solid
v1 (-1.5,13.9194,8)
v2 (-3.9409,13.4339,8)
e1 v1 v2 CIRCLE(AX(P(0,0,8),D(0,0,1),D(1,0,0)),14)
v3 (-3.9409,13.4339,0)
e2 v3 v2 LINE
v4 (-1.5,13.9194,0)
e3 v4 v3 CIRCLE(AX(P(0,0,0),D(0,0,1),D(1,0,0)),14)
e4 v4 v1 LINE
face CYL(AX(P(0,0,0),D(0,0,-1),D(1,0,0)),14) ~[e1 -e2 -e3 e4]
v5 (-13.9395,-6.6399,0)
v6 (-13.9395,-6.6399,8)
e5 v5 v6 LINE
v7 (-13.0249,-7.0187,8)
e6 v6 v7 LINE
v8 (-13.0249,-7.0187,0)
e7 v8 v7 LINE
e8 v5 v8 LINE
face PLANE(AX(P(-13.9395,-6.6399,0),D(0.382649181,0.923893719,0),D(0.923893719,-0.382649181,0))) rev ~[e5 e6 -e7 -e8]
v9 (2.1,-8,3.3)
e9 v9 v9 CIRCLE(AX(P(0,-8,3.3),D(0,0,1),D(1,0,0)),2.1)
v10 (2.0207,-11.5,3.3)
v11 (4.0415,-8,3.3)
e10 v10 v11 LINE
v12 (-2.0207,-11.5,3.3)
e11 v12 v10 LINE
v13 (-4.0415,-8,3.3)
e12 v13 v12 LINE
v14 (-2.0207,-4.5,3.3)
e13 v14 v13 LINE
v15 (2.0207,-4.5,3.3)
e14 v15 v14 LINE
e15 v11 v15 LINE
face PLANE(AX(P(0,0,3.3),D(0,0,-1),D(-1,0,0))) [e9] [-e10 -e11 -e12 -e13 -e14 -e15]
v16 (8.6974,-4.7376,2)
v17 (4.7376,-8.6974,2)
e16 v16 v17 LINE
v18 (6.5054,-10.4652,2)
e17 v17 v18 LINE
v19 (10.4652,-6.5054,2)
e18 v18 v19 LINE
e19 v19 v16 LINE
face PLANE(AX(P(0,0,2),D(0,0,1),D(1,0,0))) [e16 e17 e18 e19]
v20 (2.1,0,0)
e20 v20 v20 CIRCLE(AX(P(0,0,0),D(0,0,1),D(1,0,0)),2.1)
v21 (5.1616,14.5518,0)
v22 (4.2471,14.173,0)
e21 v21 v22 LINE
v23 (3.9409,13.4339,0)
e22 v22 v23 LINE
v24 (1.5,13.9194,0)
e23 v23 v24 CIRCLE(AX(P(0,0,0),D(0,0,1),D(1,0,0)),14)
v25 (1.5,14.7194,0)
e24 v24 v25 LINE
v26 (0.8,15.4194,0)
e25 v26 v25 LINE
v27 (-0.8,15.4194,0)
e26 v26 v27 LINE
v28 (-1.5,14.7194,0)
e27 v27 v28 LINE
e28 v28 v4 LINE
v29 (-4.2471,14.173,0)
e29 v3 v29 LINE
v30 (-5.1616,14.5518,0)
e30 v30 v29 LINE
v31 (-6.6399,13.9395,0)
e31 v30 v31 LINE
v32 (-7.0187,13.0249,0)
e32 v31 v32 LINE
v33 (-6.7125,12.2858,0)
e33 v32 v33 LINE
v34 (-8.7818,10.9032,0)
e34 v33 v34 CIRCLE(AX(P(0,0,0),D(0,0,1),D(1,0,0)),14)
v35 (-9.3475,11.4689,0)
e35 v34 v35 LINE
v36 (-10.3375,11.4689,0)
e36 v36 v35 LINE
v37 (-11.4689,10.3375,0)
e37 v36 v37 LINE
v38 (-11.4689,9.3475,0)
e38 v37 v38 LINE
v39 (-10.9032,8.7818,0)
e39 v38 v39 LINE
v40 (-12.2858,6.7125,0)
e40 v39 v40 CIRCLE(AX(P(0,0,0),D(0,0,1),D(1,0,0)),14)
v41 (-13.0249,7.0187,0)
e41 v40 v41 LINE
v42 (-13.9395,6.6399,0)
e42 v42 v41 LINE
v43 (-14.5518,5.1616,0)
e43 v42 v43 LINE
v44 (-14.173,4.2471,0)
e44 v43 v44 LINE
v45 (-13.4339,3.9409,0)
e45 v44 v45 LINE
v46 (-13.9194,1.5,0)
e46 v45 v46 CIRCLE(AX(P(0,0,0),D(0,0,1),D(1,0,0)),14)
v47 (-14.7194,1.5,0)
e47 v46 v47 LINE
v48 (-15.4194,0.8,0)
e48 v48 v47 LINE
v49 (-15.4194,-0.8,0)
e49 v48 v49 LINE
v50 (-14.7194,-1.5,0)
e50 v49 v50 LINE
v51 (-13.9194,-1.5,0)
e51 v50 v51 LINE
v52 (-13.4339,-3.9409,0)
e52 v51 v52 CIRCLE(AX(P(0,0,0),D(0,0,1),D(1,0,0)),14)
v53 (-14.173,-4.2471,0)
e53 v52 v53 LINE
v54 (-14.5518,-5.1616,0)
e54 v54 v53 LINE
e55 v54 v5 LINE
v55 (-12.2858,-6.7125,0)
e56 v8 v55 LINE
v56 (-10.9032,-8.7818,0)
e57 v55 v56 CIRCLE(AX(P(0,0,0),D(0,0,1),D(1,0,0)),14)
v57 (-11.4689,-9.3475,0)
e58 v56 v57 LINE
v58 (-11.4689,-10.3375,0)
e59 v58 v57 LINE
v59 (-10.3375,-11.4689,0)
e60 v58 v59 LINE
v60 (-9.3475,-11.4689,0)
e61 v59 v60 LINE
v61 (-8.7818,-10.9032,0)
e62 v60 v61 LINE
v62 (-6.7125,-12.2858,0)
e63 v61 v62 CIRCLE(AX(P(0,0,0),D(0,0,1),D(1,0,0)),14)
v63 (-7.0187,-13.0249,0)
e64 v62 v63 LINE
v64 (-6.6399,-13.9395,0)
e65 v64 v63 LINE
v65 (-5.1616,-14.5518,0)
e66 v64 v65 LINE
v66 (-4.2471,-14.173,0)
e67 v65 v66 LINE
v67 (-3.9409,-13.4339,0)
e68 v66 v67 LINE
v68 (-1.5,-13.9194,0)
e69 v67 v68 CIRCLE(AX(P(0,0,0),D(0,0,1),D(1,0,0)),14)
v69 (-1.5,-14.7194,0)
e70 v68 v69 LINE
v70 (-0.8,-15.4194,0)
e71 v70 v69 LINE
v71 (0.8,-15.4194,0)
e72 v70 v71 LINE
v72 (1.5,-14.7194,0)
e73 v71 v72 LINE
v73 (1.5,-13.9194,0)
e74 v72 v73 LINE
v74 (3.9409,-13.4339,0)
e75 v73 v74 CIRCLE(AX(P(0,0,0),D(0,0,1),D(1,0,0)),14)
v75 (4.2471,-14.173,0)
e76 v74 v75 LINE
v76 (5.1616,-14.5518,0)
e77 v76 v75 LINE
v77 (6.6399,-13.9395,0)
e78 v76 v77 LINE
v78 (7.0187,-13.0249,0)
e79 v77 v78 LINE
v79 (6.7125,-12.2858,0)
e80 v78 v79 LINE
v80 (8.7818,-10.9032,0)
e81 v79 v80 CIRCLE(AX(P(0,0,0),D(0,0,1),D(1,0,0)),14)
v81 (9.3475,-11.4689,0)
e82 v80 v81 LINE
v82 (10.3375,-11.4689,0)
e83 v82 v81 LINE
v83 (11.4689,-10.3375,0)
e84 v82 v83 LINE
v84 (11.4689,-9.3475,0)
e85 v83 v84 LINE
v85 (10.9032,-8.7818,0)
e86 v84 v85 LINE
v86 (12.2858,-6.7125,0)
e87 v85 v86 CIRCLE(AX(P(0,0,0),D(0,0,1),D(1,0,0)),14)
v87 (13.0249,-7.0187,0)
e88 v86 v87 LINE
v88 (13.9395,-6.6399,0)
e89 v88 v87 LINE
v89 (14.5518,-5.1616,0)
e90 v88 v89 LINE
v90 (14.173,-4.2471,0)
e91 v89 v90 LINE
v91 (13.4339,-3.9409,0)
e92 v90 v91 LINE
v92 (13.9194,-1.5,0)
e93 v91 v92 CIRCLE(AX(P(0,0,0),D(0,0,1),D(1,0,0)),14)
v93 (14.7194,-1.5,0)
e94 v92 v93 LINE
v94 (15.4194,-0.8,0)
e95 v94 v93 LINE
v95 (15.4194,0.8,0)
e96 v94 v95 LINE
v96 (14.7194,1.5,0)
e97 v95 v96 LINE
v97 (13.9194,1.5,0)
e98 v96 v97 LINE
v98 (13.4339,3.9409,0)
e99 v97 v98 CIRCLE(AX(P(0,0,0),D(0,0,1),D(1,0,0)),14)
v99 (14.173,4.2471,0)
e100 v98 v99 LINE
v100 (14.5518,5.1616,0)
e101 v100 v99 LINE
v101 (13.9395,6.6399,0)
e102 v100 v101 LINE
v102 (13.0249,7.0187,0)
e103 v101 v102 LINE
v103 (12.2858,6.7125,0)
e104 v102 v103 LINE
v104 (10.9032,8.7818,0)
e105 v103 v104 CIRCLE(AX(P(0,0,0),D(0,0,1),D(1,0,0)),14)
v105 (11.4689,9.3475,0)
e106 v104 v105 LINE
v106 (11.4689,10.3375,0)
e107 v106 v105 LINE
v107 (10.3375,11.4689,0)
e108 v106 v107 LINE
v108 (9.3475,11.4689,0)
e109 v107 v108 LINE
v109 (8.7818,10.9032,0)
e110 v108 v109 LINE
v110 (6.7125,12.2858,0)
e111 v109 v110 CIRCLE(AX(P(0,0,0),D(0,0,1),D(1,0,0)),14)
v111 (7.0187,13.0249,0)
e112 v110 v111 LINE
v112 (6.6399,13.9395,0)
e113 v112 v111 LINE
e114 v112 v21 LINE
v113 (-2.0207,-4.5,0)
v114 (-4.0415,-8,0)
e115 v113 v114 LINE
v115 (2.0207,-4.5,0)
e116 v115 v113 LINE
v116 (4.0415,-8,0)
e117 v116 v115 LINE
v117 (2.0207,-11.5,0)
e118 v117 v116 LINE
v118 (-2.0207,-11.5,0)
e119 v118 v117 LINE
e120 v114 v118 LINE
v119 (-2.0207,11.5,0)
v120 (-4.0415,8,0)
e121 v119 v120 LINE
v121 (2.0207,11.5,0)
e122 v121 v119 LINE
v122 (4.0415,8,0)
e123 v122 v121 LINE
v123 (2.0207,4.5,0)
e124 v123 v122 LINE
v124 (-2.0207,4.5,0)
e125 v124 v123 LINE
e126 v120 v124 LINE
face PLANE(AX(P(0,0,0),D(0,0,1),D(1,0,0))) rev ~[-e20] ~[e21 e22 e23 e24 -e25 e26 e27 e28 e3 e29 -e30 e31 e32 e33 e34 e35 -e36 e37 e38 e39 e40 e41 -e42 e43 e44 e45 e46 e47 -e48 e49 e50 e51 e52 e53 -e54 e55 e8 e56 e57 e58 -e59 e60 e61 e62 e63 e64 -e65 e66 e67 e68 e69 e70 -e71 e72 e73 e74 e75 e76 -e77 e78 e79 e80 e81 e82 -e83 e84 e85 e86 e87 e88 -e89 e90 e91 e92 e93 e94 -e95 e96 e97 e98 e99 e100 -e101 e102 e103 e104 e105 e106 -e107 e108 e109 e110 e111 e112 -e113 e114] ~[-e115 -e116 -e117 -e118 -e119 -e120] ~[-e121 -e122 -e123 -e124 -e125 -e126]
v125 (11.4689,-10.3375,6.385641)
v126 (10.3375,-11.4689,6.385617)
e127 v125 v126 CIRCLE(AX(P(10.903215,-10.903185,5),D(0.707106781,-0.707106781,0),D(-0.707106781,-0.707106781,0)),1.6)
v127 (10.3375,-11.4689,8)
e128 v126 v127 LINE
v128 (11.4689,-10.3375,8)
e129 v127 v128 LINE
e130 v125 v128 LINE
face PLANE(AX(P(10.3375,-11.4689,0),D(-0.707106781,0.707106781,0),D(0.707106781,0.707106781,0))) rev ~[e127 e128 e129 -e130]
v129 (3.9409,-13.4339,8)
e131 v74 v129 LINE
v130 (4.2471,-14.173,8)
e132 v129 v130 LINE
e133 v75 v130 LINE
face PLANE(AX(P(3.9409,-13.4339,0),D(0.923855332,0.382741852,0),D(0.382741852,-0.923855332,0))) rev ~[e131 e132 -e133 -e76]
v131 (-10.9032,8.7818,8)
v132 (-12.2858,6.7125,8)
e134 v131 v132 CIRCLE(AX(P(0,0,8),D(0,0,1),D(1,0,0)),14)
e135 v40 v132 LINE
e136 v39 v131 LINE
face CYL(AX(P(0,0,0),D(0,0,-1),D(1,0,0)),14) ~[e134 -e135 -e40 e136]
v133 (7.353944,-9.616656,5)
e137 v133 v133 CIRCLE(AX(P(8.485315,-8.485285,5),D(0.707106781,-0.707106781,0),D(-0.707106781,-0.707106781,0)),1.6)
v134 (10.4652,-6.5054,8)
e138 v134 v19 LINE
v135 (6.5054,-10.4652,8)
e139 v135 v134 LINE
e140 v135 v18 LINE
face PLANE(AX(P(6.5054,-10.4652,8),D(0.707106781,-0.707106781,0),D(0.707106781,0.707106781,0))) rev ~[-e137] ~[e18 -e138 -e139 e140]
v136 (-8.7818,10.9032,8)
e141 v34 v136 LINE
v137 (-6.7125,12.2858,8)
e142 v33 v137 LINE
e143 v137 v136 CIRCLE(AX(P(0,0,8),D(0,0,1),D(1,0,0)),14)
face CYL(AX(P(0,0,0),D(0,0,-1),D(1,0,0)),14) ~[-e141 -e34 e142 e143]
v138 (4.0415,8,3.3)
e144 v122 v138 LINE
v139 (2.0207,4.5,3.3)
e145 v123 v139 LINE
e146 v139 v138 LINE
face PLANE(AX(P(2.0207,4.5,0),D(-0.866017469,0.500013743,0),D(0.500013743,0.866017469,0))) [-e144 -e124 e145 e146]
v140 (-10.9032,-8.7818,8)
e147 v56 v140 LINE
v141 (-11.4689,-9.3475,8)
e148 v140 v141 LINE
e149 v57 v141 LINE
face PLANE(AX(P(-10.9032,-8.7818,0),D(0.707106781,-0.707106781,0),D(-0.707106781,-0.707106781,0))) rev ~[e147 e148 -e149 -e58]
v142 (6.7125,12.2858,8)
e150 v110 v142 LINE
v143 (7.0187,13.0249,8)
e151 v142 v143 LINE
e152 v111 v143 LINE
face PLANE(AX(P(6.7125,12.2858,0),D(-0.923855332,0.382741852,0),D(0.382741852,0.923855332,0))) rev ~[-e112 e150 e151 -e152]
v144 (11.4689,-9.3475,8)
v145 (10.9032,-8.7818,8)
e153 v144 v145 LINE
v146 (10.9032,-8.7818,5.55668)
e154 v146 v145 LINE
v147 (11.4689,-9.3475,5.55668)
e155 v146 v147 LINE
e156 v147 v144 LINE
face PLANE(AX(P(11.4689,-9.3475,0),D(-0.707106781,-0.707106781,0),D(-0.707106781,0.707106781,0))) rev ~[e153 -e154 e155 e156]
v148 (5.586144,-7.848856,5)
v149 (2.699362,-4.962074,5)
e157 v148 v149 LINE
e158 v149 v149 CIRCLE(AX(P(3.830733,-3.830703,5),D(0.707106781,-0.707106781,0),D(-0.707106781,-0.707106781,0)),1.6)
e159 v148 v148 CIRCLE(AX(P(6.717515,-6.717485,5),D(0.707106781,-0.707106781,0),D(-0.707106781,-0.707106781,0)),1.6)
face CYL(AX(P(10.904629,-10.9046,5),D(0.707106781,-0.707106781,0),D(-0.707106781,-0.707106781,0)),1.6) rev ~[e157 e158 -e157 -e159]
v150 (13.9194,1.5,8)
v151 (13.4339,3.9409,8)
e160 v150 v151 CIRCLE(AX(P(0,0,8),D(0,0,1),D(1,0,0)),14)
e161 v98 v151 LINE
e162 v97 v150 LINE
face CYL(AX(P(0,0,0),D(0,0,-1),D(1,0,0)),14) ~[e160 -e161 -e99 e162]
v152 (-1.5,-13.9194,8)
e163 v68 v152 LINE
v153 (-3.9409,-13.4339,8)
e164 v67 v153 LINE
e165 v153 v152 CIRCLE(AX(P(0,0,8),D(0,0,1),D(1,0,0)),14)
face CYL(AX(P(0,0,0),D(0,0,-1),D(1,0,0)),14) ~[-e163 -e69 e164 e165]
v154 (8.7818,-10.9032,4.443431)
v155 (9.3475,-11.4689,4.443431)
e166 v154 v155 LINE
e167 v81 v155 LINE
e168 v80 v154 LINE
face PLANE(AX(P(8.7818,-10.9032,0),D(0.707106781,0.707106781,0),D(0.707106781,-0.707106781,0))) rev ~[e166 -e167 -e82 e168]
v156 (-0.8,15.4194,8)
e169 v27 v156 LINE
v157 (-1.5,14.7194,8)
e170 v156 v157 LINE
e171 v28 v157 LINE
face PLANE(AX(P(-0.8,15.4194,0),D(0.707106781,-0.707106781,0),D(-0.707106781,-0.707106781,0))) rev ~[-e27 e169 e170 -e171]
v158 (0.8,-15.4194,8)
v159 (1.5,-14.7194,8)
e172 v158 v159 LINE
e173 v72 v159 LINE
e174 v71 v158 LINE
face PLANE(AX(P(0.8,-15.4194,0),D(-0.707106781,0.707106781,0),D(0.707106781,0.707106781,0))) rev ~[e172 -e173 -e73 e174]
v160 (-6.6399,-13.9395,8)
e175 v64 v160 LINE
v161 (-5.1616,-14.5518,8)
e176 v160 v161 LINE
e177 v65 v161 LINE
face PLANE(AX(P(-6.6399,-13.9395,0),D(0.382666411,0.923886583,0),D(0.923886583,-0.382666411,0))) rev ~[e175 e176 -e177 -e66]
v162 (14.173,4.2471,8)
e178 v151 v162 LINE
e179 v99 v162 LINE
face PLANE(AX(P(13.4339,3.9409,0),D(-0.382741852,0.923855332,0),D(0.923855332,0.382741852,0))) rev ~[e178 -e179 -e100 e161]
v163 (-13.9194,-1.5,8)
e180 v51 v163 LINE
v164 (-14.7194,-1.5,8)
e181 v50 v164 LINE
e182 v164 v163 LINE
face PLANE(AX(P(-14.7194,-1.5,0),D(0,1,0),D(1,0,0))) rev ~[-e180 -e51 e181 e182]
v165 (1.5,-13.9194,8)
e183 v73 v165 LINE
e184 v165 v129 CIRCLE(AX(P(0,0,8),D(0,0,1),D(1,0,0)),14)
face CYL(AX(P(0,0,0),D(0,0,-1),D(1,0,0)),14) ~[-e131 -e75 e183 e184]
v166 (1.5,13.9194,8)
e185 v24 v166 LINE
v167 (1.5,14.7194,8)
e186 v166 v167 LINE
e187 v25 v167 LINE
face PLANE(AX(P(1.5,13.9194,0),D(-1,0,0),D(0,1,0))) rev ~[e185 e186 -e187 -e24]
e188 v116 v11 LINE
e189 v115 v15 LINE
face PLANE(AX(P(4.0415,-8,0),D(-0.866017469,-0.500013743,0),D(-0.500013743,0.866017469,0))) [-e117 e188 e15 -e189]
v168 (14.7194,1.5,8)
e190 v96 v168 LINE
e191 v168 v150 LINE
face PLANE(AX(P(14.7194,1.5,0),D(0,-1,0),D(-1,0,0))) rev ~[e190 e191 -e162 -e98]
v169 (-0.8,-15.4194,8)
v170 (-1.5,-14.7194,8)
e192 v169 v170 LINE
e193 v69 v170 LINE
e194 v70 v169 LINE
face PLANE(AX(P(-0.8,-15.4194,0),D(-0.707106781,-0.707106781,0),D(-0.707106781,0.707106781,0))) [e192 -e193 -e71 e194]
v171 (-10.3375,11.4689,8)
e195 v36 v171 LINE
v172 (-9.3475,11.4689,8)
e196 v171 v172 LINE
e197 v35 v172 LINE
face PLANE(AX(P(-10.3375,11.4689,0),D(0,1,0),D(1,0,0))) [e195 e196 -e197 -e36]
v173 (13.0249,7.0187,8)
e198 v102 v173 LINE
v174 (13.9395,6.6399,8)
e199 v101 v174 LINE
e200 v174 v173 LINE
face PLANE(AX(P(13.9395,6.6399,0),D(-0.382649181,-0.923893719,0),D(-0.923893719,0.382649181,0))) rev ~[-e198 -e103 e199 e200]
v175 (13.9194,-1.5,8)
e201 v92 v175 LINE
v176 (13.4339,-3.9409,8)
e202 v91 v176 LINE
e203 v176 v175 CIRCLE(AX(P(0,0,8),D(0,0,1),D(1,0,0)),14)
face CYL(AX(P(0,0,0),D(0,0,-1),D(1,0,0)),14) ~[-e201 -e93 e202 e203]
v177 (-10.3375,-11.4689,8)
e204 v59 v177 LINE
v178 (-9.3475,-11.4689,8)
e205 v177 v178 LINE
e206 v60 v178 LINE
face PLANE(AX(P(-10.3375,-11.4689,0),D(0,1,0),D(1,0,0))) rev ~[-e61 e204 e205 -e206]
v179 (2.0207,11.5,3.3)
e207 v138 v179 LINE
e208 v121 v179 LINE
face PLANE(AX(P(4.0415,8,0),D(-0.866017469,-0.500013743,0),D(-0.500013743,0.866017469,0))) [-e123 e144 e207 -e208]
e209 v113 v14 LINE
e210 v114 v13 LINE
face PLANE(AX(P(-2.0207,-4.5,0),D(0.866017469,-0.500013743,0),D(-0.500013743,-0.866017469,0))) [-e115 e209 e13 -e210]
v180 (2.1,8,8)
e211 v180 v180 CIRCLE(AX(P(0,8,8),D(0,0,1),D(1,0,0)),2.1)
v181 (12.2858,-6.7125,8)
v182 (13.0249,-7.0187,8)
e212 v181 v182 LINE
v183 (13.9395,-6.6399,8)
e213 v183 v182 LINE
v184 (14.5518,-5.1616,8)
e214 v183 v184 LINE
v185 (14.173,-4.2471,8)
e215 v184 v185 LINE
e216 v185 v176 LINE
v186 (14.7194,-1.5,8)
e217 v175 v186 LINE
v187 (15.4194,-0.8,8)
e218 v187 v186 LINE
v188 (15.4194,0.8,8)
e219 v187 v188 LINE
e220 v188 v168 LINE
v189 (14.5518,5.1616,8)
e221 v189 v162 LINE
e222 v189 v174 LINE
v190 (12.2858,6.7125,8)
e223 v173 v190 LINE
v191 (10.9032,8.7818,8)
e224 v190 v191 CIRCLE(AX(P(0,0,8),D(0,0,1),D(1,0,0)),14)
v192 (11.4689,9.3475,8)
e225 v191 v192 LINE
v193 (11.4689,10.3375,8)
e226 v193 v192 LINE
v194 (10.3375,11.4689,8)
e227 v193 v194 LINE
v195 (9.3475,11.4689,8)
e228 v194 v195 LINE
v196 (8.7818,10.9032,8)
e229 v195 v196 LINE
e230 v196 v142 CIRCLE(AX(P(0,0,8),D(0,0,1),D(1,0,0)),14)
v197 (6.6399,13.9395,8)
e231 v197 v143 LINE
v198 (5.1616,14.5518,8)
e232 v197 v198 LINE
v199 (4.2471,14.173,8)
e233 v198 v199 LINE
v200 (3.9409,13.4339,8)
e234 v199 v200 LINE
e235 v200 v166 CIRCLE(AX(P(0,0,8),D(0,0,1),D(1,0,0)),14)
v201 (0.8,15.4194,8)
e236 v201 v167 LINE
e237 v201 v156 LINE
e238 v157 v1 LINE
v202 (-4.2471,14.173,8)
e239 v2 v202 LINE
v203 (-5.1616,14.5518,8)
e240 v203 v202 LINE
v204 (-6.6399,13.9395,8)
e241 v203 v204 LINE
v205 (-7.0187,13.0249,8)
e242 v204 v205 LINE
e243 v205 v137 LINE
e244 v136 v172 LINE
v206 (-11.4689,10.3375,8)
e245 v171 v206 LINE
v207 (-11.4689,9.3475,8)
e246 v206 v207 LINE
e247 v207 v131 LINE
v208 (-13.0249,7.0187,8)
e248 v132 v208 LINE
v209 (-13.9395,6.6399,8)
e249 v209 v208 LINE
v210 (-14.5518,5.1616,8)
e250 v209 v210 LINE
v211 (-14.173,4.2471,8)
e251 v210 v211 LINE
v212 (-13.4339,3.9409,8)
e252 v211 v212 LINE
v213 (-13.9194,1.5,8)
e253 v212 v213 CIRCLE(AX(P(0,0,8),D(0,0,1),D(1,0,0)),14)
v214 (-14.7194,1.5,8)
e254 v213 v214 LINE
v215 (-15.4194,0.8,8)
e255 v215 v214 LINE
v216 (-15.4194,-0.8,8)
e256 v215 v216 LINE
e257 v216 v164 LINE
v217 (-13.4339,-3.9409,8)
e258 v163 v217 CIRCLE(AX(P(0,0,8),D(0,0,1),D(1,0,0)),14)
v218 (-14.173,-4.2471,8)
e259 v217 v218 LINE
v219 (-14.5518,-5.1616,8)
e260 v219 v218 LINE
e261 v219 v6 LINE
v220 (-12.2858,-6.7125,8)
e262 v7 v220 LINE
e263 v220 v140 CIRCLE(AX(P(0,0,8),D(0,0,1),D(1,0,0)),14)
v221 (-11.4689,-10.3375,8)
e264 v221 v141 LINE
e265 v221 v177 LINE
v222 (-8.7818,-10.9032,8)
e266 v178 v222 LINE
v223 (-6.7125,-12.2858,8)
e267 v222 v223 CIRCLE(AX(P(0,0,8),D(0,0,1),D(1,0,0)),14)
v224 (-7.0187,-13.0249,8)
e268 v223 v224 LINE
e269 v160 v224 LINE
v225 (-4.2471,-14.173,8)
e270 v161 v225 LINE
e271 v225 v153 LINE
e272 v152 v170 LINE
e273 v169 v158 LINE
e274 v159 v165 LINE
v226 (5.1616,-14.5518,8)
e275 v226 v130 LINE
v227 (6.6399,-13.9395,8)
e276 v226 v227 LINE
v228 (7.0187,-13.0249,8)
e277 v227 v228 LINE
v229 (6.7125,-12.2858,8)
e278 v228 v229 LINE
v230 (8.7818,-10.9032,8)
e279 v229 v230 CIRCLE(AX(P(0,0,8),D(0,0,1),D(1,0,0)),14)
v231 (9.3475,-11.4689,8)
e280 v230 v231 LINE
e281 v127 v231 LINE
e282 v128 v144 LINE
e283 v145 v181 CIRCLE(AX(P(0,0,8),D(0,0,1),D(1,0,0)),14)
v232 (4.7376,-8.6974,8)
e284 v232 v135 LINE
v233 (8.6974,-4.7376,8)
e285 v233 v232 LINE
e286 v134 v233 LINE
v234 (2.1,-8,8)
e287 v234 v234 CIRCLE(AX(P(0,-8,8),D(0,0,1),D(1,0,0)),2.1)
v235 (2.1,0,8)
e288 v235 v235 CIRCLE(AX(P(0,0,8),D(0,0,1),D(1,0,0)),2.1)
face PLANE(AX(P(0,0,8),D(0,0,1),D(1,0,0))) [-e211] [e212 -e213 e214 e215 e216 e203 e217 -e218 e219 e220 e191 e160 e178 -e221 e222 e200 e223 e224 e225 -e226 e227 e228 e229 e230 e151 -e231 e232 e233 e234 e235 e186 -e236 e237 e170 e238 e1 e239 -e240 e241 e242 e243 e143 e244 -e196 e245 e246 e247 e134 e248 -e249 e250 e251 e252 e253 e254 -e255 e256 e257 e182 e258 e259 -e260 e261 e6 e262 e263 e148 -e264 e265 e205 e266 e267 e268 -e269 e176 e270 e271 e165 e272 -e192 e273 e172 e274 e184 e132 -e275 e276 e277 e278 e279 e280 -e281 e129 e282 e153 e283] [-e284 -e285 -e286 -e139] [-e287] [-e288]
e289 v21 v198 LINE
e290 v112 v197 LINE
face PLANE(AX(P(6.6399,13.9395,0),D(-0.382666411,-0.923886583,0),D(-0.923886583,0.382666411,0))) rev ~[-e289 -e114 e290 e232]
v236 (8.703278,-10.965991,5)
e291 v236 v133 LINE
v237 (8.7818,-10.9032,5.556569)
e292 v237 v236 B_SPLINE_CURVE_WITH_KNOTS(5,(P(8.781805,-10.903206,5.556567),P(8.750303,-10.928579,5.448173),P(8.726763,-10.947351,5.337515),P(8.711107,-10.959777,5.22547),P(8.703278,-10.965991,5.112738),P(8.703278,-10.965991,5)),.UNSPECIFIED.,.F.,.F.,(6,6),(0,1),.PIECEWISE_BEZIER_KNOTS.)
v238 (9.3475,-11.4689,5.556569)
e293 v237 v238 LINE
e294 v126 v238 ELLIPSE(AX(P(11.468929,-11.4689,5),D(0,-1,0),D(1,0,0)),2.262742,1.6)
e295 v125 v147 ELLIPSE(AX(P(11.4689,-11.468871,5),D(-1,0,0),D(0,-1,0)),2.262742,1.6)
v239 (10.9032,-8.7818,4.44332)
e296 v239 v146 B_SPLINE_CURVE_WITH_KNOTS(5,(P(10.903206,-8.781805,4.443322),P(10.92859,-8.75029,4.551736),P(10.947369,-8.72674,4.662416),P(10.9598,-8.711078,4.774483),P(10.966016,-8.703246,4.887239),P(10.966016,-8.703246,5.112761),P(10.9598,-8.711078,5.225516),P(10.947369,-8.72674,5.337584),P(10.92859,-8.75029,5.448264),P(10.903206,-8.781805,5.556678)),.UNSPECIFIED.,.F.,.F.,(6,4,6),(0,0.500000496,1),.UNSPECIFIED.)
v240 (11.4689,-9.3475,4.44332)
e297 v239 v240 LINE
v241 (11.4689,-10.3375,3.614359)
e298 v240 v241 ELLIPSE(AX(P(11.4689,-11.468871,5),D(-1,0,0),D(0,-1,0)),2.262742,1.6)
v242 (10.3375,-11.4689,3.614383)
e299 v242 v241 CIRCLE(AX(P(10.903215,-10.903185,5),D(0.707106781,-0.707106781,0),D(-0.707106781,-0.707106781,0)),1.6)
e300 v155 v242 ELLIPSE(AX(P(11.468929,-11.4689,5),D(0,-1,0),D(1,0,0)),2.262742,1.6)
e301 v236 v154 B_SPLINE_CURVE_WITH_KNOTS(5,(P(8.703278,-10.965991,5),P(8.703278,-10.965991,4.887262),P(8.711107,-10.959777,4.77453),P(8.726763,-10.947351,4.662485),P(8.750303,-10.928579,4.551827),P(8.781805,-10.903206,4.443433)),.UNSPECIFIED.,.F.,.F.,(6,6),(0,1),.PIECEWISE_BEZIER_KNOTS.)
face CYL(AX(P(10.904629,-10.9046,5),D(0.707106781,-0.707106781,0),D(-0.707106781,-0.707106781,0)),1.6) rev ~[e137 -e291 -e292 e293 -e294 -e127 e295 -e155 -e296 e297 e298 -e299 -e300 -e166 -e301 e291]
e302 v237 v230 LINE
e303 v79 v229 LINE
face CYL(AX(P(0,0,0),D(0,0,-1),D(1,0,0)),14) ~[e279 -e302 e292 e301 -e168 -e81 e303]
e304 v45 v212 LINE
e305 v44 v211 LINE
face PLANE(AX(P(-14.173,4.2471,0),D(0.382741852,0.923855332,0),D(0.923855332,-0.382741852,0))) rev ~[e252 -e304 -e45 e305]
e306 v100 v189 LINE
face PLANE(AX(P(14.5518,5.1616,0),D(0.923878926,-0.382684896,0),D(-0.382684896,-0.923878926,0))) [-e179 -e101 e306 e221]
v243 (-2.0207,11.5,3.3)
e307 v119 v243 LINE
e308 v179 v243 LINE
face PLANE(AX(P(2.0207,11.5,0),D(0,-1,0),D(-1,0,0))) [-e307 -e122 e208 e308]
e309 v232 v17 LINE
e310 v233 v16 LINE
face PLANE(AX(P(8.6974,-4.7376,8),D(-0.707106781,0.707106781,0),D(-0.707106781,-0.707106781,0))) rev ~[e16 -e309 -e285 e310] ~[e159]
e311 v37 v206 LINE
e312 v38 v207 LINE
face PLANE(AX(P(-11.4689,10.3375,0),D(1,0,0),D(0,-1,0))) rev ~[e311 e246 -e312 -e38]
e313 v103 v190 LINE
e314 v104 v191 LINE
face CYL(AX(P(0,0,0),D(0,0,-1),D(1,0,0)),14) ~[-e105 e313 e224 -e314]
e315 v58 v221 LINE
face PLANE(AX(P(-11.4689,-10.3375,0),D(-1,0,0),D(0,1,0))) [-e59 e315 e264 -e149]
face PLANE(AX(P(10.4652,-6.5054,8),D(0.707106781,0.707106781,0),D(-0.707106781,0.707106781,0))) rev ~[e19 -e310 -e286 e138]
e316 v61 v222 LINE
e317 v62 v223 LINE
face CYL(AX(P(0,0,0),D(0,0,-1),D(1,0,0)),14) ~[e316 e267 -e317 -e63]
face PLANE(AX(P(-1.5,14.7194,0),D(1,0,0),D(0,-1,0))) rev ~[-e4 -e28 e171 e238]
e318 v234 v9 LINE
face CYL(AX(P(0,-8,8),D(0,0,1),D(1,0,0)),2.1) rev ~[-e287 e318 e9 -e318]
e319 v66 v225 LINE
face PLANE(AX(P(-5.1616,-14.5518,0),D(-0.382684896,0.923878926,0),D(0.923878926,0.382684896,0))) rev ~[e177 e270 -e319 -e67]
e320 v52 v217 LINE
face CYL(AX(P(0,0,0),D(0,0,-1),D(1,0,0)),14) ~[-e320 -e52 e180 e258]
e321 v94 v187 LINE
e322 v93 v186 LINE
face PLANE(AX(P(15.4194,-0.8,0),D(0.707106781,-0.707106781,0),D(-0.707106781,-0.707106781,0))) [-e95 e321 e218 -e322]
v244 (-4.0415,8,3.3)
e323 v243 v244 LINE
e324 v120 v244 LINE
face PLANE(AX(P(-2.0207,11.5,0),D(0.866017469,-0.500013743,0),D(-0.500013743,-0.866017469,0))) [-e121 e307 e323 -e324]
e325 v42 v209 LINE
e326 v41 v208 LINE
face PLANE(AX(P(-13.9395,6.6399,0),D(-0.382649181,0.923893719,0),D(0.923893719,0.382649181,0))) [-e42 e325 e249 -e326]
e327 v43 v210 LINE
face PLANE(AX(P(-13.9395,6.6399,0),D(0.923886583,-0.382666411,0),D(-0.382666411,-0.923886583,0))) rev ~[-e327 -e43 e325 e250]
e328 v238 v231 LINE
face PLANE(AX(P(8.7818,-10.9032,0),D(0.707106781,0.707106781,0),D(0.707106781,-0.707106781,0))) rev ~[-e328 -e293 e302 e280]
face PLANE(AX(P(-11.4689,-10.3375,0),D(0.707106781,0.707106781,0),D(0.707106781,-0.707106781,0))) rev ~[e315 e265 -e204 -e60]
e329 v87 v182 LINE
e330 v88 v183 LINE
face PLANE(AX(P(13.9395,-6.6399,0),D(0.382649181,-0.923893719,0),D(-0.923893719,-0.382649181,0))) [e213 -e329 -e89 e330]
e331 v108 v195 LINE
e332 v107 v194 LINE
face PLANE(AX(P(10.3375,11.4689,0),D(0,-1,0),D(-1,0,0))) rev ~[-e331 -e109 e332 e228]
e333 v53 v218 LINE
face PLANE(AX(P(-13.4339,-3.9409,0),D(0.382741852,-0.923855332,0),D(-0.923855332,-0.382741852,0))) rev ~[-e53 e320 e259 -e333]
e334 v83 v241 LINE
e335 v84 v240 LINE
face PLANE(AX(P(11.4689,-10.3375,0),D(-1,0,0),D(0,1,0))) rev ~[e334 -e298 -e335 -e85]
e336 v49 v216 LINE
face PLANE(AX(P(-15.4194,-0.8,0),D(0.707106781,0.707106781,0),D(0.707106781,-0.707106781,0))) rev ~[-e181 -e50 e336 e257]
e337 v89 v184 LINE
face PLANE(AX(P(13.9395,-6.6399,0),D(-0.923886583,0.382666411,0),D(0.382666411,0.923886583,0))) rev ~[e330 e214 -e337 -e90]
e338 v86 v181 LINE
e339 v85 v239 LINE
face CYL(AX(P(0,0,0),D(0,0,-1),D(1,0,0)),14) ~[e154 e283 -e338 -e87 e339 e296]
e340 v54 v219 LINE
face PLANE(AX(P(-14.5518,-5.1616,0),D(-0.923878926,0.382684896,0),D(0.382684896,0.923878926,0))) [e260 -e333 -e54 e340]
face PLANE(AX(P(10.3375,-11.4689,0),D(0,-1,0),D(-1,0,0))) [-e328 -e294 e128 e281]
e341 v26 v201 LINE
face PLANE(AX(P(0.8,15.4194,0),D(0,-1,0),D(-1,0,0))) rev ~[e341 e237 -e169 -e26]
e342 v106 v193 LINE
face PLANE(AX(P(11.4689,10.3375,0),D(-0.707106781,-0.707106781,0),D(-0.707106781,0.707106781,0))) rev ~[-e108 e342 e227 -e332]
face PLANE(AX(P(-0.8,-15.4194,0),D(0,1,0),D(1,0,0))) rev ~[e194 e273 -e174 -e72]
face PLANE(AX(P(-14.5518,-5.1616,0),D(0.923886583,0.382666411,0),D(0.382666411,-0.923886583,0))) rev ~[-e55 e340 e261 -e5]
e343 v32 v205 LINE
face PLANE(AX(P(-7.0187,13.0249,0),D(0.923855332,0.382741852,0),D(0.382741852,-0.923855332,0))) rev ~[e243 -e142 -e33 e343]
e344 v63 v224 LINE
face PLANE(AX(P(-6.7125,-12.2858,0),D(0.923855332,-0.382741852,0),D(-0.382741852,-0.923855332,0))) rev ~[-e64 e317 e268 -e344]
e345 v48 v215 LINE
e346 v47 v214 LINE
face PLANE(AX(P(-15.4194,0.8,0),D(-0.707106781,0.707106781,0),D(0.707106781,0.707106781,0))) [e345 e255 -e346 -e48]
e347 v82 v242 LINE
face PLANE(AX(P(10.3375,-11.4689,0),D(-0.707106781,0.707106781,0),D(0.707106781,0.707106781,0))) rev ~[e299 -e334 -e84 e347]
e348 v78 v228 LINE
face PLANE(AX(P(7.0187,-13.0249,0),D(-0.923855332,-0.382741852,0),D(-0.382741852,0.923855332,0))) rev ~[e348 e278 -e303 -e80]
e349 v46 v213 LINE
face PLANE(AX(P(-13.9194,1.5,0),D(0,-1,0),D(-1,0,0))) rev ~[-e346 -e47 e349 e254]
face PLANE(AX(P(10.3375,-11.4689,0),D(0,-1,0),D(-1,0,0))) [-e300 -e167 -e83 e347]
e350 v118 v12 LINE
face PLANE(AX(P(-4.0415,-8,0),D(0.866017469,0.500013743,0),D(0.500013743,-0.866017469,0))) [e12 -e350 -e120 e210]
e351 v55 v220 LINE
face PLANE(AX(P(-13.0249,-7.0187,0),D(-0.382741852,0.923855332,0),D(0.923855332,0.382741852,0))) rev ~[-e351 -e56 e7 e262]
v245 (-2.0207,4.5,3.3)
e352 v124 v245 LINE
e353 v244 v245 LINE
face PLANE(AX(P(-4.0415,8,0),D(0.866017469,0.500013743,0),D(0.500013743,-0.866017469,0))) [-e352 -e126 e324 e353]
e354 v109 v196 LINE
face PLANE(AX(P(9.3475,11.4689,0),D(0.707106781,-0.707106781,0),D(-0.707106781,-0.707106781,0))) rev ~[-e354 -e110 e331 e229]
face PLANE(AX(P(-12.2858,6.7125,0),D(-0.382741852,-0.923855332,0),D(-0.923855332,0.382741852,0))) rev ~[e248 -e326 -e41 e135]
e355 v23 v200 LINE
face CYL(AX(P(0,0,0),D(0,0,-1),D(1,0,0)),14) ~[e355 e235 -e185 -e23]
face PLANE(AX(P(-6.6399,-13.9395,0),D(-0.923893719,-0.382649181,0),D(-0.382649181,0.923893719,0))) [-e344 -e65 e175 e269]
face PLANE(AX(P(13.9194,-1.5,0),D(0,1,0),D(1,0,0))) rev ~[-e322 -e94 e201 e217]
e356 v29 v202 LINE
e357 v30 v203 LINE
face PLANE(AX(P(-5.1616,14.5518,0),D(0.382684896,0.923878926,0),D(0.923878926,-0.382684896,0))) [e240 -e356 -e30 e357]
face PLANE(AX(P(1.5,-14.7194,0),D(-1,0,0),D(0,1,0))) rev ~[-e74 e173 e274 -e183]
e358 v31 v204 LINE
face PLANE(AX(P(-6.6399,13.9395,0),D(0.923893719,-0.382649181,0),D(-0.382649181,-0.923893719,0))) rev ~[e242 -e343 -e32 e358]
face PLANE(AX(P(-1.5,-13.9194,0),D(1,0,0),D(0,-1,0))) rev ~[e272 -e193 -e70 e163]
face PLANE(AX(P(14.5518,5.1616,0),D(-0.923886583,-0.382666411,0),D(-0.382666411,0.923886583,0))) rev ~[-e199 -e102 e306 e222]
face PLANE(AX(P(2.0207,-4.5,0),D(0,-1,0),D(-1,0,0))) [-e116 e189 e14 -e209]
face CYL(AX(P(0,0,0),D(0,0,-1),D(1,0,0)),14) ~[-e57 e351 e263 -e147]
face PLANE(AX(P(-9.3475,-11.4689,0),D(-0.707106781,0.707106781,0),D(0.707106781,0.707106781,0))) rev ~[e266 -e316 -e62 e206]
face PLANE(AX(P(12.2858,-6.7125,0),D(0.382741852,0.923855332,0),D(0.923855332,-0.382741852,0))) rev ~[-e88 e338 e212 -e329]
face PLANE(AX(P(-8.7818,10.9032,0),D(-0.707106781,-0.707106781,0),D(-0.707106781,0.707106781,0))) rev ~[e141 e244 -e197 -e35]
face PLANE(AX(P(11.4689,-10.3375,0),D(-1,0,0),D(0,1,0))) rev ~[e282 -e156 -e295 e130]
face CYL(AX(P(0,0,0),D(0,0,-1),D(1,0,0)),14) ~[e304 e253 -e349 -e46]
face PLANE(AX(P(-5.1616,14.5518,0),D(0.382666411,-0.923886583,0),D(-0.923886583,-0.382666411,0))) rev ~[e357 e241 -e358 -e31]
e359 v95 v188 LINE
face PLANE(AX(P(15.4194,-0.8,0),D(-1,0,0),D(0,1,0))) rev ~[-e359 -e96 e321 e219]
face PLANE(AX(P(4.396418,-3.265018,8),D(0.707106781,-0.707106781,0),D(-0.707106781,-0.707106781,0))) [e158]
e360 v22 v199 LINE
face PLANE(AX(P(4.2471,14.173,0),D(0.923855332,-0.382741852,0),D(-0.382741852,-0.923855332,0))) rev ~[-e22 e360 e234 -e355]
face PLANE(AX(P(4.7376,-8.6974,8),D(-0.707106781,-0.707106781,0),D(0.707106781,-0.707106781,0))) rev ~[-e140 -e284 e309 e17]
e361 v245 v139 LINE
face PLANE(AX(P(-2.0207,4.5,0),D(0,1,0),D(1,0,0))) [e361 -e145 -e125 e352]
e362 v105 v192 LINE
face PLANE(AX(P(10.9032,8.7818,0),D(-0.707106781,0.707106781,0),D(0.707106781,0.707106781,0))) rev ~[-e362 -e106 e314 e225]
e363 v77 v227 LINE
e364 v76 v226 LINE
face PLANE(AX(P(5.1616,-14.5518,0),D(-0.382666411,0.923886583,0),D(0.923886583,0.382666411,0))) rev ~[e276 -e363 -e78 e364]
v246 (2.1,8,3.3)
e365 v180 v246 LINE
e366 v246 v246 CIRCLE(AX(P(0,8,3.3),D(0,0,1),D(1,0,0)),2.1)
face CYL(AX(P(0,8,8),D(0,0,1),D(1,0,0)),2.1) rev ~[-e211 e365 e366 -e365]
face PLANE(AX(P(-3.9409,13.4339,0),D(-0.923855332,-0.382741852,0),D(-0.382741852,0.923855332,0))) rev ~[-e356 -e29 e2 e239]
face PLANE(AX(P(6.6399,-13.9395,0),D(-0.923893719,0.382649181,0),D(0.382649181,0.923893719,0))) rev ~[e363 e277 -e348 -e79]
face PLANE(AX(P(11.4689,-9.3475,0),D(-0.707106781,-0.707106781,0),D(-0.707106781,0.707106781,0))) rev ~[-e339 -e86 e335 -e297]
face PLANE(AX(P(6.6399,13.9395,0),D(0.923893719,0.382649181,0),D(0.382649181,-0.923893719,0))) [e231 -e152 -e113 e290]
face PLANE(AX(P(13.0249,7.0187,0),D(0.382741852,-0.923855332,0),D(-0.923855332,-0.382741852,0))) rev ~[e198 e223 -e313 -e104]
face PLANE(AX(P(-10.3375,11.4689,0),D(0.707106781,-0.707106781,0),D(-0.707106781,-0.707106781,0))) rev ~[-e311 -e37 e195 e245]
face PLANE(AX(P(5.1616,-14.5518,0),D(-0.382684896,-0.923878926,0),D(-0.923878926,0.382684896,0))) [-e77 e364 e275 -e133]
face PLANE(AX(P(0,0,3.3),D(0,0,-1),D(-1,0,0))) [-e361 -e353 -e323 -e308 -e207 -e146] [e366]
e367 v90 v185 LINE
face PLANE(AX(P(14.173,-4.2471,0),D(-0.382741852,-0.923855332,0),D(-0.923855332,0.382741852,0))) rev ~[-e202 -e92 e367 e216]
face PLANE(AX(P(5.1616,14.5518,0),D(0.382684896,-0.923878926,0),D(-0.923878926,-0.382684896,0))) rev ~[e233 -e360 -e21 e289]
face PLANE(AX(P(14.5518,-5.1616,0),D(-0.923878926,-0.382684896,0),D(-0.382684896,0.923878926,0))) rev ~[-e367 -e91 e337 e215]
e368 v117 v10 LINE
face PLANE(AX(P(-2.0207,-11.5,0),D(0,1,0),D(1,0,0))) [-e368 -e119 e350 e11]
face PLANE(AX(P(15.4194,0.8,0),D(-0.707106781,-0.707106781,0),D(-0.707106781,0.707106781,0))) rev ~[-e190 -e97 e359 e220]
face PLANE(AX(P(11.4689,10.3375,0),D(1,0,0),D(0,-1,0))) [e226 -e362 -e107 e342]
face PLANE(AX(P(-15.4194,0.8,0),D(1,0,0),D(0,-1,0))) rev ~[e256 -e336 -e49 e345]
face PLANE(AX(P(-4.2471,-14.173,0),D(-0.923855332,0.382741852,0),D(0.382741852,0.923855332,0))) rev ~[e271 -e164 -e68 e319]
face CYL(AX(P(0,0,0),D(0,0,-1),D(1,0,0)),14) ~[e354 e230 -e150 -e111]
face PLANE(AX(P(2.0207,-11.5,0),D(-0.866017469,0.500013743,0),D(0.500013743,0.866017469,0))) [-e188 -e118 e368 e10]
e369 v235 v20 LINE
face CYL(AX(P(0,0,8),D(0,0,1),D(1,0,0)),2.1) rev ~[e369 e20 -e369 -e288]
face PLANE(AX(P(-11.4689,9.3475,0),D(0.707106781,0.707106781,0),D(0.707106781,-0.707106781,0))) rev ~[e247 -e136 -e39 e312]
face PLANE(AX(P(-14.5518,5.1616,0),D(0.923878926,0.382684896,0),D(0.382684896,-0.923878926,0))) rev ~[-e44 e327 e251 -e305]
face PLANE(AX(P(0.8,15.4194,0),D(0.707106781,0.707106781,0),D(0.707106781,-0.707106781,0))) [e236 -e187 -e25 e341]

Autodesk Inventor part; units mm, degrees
ref_plane "YZ Plane" through (0, 0, 0) normal (1, 0, 0) x (0, 1, 0)
ref_plane "XZ Plane" through (0, 0, 0) normal (0, 1, 0) x (-1, 0, 0)
ref_plane "XY Plane" through (0, 0, 0) normal (0, 0, 1) x (1, 0, 0)
sketch "Эскиз1" plane through (0, 0, 0) normal (0, 0, 1) x (1, 0, 0)
  circle A0 centre (0, 0) radius 14
  line L0 (-1.5, 14.7194) -> (-1.5, 13.9194)
  line L1 (-1.5, 13.9194) -> (1.5, 13.9194)
  line L2 (1.5, 13.9194) -> (1.5, 14.7194)
  line L3 (0.8, 15.4194) -> (-0.8, 15.4194)
  line L4 (-1.5, 15.4194) -> (1.5, 13.9194) construction
  line L5 (-1.5, 13.9194) -> (1.5, 15.4194) construction
  line L6 (0, 0) -> (0, 20.7764) construction
  line L7 (-0.8, 15.4194) -> (-1.5, 14.7194)
  line L8 (0.8, 15.4194) -> (1.5, 14.7194)
  line L9 (-5.1616, 14.5518) -> (-6.6399, 13.9395)
  line L10 (-6.6399, 13.9395) -> (-7.0187, 13.0249)
  line L11 (-7.0187, 13.0249) -> (-6.7125, 12.2858)
  line L12 (-6.7125, 12.2858) -> (-3.9409, 13.4339)
  line L13 (-3.9409, 13.4339) -> (-4.2471, 14.173)
  line L14 (-5.1616, 14.5518) -> (-4.2471, 14.173)
  line L15 (-10.3375, 11.4689) -> (-11.4689, 10.3375)
  line L16 (-11.4689, 10.3375) -> (-11.4689, 9.3475)
  line L17 (-11.4689, 9.3475) -> (-10.9032, 8.7818)
  line L18 (-10.9032, 8.7818) -> (-8.7818, 10.9032)
  line L19 (-8.7818, 10.9032) -> (-9.3475, 11.4689)
  line L20 (-10.3375, 11.4689) -> (-9.3475, 11.4689)
  line L21 (-13.9395, 6.6399) -> (-14.5518, 5.1616)
  line L22 (-14.5518, 5.1616) -> (-14.173, 4.2471)
  line L23 (-14.173, 4.2471) -> (-13.4339, 3.9409)
  line L24 (-13.4339, 3.9409) -> (-12.2858, 6.7125)
  line L25 (-12.2858, 6.7125) -> (-13.0249, 7.0187)
  line L26 (-13.9395, 6.6399) -> (-13.0249, 7.0187)
  line L27 (-15.4194, 0.8) -> (-15.4194, -0.8)
  line L28 (-15.4194, -0.8) -> (-14.7194, -1.5)
  line L29 (-14.7194, -1.5) -> (-13.9194, -1.5)
  line L30 (-13.9194, -1.5) -> (-13.9194, 1.5)
  line L31 (-13.9194, 1.5) -> (-14.7194, 1.5)
  line L32 (-15.4194, 0.8) -> (-14.7194, 1.5)
  line L33 (-14.5518, -5.1616) -> (-13.9395, -6.6399)
  line L34 (-13.9395, -6.6399) -> (-13.0249, -7.0187)
  line L35 (-13.0249, -7.0187) -> (-12.2858, -6.7125)
  line L36 (-12.2858, -6.7125) -> (-13.4339, -3.9409)
  line L37 (-13.4339, -3.9409) -> (-14.173, -4.2471)
  line L38 (-14.5518, -5.1616) -> (-14.173, -4.2471)
  line L39 (-11.4689, -10.3375) -> (-10.3375, -11.4689)
  line L40 (-10.3375, -11.4689) -> (-9.3475, -11.4689)
  line L41 (-9.3475, -11.4689) -> (-8.7818, -10.9032)
  line L42 (-8.7818, -10.9032) -> (-10.9032, -8.7818)
  line L43 (-10.9032, -8.7818) -> (-11.4689, -9.3475)
  line L44 (-11.4689, -10.3375) -> (-11.4689, -9.3475)
  line L45 (-6.6399, -13.9395) -> (-5.1616, -14.5518)
  line L46 (-5.1616, -14.5518) -> (-4.2471, -14.173)
  line L47 (-4.2471, -14.173) -> (-3.9409, -13.4339)
  line L48 (-3.9409, -13.4339) -> (-6.7125, -12.2858)
  line L49 (-6.7125, -12.2858) -> (-7.0187, -13.0249)
  line L50 (-6.6399, -13.9395) -> (-7.0187, -13.0249)
  line L51 (-0.8, -15.4194) -> (0.8, -15.4194)
  line L52 (0.8, -15.4194) -> (1.5, -14.7194)
  line L53 (1.5, -14.7194) -> (1.5, -13.9194)
  line L54 (1.5, -13.9194) -> (-1.5, -13.9194)
  line L55 (-1.5, -13.9194) -> (-1.5, -14.7194)
  line L56 (-0.8, -15.4194) -> (-1.5, -14.7194)
  line L57 (5.1616, -14.5518) -> (6.6399, -13.9395)
  line L58 (6.6399, -13.9395) -> (7.0187, -13.0249)
  line L59 (7.0187, -13.0249) -> (6.7125, -12.2858)
  line L60 (6.7125, -12.2858) -> (3.9409, -13.4339)
  line L61 (3.9409, -13.4339) -> (4.2471, -14.173)
  line L62 (5.1616, -14.5518) -> (4.2471, -14.173)
  line L63 (10.3375, -11.4689) -> (11.4689, -10.3375)
  line L64 (11.4689, -10.3375) -> (11.4689, -9.3475)
  line L65 (11.4689, -9.3475) -> (10.9032, -8.7818)
  line L66 (10.9032, -8.7818) -> (8.7818, -10.9032)
  line L67 (8.7818, -10.9032) -> (9.3475, -11.4689)
  line L68 (10.3375, -11.4689) -> (9.3475, -11.4689)
  line L69 (13.9395, -6.6399) -> (14.5518, -5.1616)
  line L70 (14.5518, -5.1616) -> (14.173, -4.2471)
  line L71 (14.173, -4.2471) -> (13.4339, -3.9409)
  line L72 (13.4339, -3.9409) -> (12.2858, -6.7125)
  line L73 (12.2858, -6.7125) -> (13.0249, -7.0187)
  line L74 (13.9395, -6.6399) -> (13.0249, -7.0187)
  line L75 (15.4194, -0.8) -> (15.4194, 0.8)
  line L76 (15.4194, 0.8) -> (14.7194, 1.5)
  line L77 (14.7194, 1.5) -> (13.9194, 1.5)
  line L78 (13.9194, 1.5) -> (13.9194, -1.5)
  line L79 (13.9194, -1.5) -> (14.7194, -1.5)
  line L80 (15.4194, -0.8) -> (14.7194, -1.5)
  line L81 (14.5518, 5.1616) -> (13.9395, 6.6399)
  line L82 (13.9395, 6.6399) -> (13.0249, 7.0187)
  line L83 (13.0249, 7.0187) -> (12.2858, 6.7125)
  line L84 (12.2858, 6.7125) -> (13.4339, 3.9409)
  line L85 (13.4339, 3.9409) -> (14.173, 4.2471)
  line L86 (14.5518, 5.1616) -> (14.173, 4.2471)
  line L87 (11.4689, 10.3375) -> (10.3375, 11.4689)
  line L88 (10.3375, 11.4689) -> (9.3475, 11.4689)
  line L89 (9.3475, 11.4689) -> (8.7818, 10.9032)
  line L90 (8.7818, 10.9032) -> (10.9032, 8.7818)
  line L91 (10.9032, 8.7818) -> (11.4689, 9.3475)
  line L92 (11.4689, 10.3375) -> (11.4689, 9.3475)
  line L93 (6.6399, 13.9395) -> (5.1616, 14.5518)
  line L94 (5.1616, 14.5518) -> (4.2471, 14.173)
  line L95 (4.2471, 14.173) -> (3.9409, 13.4339)
  line L96 (3.9409, 13.4339) -> (6.7125, 12.2858)
  line L97 (6.7125, 12.2858) -> (7.0187, 13.0249)
  line L98 (6.6399, 13.9395) -> (7.0187, 13.0249)
  point P0 (0, 14.6694)
  point P1 (0, 14.6694)
  point P2 (-13.9194, 1.5)
  point P3 (-1.5, -13.9194)
  point P4 (13.9194, -1.5)
  dimension "d0" = 28
  dimension "d1" = 1.5
  dimension "d2" = 3
  dimension "d3" = 0.7
  dimension "d4" = 0.7
  dimension "d5" = 0.7
  dimension "d6" = 0.7
  dimension "d9" = 360
extrude "Выдавливание1" add sketch "Эскиз1" along normal blind 8
sketch "Эскиз2" plane through (11.4689, -10.3375, 8) normal (0.7071, -0.7071, 0) x (-0.7071, -0.7071, 0)
  circle A0 centre (0.8, 3) radius 1.6
  line L0 (1.6, 0) -> (0, 0) projected
  point P0 (0.8, 8)
  point P1 (0.8, 0)
  dimension "d13" = 3.2
  dimension "d14" = 3
extrude "Выдавливание2" cut sketch "Эскиз2" against normal blind 10
sketch "Эскиз3" plane through (0, 0, 8) normal (0, 0, 1) x (1, 0, 0)
  line L0 (11.4689, -10.3375) -> (10.3375, -11.4689) projected
  line L1 (10.9032, -10.9032) -> (0, 0) construction
  line L2 (6.5054, -10.4652) -> (10.4652, -6.5054)
  line L3 (10.4652, -6.5054) -> (8.6974, -4.7376)
  line L4 (8.6974, -4.7376) -> (4.7376, -8.6974)
  line L5 (4.7376, -8.6974) -> (6.5054, -10.4652)
  line L6 (6.5054, -10.4652) -> (8.6974, -4.7376) construction
  line L7 (10.4652, -6.5054) -> (4.7376, -8.6974) construction
  arc A0 (6.7125, -12.2858) -> (8.7818, -10.9032) centre (0, 0) ccw projected
  point P0 (7.6014, -7.6014)
  dimension "d17" = 5.6
  dimension "d18" = 2.5
  dimension "d19" = 12
extrude "Выдавливание3" cut sketch "Эскиз3" against normal blind 6
sketch "Эскиз4" plane through (0, 0, 8) normal (0, 0, 1) x (1, 0, 0)
  circle A0 centre (0, 0) radius 2.1
  circle A1 centre (0, 8) radius 2.1
  circle A2 centre (0, -8) radius 2.1
  dimension "d22" = 4.2
  dimension "d23" = 4.2
  dimension "d24" = 4.2
  dimension "d25" = 8
  dimension "d26" = 8
extrude "Выдавливание4" cut sketch "Эскиз4" against normal blind 10
sketch "Эскиз5" plane through (0, 0, 0) normal (0, 0, -1) x (-1, 0, 0)
  circle A0 centre (0, 8) radius 2.1 projected
  line L0 (-2.0207, 4.5) -> (-4.0415, 8)
  line L1 (-4.0415, 8) -> (-2.0207, 11.5)
  line L2 (-2.0207, 11.5) -> (2.0207, 11.5)
  line L3 (2.0207, 11.5) -> (4.0415, 8)
  line L4 (4.0415, 8) -> (2.0207, 4.5)
  line L5 (2.0207, 4.5) -> (-2.0207, 4.5)
  circle A1 centre (0, -8) radius 2.1 projected
  line L6 (4.0415, -8) -> (2.0207, -11.5)
  line L7 (2.0207, -11.5) -> (-2.0207, -11.5)
  line L8 (-2.0207, -11.5) -> (-4.0415, -8)
  line L9 (-4.0415, -8) -> (-2.0207, -4.5)
  line L10 (-2.0207, -4.5) -> (2.0207, -4.5)
  line L11 (2.0207, -4.5) -> (4.0415, -8)
  point P0 (0, 0)
  point P1 (0, 11.5)
  point P2 (0, 4.5)
  dimension "d30" = 7
  dimension "d31" = 7
extrude "Выдавливание5" cut sketch "Эскиз5" against normal blind 3.3
equation "\"d4\" = d3"
equation "\"d5\" = d3"
equation "\"d6\" = d5"
